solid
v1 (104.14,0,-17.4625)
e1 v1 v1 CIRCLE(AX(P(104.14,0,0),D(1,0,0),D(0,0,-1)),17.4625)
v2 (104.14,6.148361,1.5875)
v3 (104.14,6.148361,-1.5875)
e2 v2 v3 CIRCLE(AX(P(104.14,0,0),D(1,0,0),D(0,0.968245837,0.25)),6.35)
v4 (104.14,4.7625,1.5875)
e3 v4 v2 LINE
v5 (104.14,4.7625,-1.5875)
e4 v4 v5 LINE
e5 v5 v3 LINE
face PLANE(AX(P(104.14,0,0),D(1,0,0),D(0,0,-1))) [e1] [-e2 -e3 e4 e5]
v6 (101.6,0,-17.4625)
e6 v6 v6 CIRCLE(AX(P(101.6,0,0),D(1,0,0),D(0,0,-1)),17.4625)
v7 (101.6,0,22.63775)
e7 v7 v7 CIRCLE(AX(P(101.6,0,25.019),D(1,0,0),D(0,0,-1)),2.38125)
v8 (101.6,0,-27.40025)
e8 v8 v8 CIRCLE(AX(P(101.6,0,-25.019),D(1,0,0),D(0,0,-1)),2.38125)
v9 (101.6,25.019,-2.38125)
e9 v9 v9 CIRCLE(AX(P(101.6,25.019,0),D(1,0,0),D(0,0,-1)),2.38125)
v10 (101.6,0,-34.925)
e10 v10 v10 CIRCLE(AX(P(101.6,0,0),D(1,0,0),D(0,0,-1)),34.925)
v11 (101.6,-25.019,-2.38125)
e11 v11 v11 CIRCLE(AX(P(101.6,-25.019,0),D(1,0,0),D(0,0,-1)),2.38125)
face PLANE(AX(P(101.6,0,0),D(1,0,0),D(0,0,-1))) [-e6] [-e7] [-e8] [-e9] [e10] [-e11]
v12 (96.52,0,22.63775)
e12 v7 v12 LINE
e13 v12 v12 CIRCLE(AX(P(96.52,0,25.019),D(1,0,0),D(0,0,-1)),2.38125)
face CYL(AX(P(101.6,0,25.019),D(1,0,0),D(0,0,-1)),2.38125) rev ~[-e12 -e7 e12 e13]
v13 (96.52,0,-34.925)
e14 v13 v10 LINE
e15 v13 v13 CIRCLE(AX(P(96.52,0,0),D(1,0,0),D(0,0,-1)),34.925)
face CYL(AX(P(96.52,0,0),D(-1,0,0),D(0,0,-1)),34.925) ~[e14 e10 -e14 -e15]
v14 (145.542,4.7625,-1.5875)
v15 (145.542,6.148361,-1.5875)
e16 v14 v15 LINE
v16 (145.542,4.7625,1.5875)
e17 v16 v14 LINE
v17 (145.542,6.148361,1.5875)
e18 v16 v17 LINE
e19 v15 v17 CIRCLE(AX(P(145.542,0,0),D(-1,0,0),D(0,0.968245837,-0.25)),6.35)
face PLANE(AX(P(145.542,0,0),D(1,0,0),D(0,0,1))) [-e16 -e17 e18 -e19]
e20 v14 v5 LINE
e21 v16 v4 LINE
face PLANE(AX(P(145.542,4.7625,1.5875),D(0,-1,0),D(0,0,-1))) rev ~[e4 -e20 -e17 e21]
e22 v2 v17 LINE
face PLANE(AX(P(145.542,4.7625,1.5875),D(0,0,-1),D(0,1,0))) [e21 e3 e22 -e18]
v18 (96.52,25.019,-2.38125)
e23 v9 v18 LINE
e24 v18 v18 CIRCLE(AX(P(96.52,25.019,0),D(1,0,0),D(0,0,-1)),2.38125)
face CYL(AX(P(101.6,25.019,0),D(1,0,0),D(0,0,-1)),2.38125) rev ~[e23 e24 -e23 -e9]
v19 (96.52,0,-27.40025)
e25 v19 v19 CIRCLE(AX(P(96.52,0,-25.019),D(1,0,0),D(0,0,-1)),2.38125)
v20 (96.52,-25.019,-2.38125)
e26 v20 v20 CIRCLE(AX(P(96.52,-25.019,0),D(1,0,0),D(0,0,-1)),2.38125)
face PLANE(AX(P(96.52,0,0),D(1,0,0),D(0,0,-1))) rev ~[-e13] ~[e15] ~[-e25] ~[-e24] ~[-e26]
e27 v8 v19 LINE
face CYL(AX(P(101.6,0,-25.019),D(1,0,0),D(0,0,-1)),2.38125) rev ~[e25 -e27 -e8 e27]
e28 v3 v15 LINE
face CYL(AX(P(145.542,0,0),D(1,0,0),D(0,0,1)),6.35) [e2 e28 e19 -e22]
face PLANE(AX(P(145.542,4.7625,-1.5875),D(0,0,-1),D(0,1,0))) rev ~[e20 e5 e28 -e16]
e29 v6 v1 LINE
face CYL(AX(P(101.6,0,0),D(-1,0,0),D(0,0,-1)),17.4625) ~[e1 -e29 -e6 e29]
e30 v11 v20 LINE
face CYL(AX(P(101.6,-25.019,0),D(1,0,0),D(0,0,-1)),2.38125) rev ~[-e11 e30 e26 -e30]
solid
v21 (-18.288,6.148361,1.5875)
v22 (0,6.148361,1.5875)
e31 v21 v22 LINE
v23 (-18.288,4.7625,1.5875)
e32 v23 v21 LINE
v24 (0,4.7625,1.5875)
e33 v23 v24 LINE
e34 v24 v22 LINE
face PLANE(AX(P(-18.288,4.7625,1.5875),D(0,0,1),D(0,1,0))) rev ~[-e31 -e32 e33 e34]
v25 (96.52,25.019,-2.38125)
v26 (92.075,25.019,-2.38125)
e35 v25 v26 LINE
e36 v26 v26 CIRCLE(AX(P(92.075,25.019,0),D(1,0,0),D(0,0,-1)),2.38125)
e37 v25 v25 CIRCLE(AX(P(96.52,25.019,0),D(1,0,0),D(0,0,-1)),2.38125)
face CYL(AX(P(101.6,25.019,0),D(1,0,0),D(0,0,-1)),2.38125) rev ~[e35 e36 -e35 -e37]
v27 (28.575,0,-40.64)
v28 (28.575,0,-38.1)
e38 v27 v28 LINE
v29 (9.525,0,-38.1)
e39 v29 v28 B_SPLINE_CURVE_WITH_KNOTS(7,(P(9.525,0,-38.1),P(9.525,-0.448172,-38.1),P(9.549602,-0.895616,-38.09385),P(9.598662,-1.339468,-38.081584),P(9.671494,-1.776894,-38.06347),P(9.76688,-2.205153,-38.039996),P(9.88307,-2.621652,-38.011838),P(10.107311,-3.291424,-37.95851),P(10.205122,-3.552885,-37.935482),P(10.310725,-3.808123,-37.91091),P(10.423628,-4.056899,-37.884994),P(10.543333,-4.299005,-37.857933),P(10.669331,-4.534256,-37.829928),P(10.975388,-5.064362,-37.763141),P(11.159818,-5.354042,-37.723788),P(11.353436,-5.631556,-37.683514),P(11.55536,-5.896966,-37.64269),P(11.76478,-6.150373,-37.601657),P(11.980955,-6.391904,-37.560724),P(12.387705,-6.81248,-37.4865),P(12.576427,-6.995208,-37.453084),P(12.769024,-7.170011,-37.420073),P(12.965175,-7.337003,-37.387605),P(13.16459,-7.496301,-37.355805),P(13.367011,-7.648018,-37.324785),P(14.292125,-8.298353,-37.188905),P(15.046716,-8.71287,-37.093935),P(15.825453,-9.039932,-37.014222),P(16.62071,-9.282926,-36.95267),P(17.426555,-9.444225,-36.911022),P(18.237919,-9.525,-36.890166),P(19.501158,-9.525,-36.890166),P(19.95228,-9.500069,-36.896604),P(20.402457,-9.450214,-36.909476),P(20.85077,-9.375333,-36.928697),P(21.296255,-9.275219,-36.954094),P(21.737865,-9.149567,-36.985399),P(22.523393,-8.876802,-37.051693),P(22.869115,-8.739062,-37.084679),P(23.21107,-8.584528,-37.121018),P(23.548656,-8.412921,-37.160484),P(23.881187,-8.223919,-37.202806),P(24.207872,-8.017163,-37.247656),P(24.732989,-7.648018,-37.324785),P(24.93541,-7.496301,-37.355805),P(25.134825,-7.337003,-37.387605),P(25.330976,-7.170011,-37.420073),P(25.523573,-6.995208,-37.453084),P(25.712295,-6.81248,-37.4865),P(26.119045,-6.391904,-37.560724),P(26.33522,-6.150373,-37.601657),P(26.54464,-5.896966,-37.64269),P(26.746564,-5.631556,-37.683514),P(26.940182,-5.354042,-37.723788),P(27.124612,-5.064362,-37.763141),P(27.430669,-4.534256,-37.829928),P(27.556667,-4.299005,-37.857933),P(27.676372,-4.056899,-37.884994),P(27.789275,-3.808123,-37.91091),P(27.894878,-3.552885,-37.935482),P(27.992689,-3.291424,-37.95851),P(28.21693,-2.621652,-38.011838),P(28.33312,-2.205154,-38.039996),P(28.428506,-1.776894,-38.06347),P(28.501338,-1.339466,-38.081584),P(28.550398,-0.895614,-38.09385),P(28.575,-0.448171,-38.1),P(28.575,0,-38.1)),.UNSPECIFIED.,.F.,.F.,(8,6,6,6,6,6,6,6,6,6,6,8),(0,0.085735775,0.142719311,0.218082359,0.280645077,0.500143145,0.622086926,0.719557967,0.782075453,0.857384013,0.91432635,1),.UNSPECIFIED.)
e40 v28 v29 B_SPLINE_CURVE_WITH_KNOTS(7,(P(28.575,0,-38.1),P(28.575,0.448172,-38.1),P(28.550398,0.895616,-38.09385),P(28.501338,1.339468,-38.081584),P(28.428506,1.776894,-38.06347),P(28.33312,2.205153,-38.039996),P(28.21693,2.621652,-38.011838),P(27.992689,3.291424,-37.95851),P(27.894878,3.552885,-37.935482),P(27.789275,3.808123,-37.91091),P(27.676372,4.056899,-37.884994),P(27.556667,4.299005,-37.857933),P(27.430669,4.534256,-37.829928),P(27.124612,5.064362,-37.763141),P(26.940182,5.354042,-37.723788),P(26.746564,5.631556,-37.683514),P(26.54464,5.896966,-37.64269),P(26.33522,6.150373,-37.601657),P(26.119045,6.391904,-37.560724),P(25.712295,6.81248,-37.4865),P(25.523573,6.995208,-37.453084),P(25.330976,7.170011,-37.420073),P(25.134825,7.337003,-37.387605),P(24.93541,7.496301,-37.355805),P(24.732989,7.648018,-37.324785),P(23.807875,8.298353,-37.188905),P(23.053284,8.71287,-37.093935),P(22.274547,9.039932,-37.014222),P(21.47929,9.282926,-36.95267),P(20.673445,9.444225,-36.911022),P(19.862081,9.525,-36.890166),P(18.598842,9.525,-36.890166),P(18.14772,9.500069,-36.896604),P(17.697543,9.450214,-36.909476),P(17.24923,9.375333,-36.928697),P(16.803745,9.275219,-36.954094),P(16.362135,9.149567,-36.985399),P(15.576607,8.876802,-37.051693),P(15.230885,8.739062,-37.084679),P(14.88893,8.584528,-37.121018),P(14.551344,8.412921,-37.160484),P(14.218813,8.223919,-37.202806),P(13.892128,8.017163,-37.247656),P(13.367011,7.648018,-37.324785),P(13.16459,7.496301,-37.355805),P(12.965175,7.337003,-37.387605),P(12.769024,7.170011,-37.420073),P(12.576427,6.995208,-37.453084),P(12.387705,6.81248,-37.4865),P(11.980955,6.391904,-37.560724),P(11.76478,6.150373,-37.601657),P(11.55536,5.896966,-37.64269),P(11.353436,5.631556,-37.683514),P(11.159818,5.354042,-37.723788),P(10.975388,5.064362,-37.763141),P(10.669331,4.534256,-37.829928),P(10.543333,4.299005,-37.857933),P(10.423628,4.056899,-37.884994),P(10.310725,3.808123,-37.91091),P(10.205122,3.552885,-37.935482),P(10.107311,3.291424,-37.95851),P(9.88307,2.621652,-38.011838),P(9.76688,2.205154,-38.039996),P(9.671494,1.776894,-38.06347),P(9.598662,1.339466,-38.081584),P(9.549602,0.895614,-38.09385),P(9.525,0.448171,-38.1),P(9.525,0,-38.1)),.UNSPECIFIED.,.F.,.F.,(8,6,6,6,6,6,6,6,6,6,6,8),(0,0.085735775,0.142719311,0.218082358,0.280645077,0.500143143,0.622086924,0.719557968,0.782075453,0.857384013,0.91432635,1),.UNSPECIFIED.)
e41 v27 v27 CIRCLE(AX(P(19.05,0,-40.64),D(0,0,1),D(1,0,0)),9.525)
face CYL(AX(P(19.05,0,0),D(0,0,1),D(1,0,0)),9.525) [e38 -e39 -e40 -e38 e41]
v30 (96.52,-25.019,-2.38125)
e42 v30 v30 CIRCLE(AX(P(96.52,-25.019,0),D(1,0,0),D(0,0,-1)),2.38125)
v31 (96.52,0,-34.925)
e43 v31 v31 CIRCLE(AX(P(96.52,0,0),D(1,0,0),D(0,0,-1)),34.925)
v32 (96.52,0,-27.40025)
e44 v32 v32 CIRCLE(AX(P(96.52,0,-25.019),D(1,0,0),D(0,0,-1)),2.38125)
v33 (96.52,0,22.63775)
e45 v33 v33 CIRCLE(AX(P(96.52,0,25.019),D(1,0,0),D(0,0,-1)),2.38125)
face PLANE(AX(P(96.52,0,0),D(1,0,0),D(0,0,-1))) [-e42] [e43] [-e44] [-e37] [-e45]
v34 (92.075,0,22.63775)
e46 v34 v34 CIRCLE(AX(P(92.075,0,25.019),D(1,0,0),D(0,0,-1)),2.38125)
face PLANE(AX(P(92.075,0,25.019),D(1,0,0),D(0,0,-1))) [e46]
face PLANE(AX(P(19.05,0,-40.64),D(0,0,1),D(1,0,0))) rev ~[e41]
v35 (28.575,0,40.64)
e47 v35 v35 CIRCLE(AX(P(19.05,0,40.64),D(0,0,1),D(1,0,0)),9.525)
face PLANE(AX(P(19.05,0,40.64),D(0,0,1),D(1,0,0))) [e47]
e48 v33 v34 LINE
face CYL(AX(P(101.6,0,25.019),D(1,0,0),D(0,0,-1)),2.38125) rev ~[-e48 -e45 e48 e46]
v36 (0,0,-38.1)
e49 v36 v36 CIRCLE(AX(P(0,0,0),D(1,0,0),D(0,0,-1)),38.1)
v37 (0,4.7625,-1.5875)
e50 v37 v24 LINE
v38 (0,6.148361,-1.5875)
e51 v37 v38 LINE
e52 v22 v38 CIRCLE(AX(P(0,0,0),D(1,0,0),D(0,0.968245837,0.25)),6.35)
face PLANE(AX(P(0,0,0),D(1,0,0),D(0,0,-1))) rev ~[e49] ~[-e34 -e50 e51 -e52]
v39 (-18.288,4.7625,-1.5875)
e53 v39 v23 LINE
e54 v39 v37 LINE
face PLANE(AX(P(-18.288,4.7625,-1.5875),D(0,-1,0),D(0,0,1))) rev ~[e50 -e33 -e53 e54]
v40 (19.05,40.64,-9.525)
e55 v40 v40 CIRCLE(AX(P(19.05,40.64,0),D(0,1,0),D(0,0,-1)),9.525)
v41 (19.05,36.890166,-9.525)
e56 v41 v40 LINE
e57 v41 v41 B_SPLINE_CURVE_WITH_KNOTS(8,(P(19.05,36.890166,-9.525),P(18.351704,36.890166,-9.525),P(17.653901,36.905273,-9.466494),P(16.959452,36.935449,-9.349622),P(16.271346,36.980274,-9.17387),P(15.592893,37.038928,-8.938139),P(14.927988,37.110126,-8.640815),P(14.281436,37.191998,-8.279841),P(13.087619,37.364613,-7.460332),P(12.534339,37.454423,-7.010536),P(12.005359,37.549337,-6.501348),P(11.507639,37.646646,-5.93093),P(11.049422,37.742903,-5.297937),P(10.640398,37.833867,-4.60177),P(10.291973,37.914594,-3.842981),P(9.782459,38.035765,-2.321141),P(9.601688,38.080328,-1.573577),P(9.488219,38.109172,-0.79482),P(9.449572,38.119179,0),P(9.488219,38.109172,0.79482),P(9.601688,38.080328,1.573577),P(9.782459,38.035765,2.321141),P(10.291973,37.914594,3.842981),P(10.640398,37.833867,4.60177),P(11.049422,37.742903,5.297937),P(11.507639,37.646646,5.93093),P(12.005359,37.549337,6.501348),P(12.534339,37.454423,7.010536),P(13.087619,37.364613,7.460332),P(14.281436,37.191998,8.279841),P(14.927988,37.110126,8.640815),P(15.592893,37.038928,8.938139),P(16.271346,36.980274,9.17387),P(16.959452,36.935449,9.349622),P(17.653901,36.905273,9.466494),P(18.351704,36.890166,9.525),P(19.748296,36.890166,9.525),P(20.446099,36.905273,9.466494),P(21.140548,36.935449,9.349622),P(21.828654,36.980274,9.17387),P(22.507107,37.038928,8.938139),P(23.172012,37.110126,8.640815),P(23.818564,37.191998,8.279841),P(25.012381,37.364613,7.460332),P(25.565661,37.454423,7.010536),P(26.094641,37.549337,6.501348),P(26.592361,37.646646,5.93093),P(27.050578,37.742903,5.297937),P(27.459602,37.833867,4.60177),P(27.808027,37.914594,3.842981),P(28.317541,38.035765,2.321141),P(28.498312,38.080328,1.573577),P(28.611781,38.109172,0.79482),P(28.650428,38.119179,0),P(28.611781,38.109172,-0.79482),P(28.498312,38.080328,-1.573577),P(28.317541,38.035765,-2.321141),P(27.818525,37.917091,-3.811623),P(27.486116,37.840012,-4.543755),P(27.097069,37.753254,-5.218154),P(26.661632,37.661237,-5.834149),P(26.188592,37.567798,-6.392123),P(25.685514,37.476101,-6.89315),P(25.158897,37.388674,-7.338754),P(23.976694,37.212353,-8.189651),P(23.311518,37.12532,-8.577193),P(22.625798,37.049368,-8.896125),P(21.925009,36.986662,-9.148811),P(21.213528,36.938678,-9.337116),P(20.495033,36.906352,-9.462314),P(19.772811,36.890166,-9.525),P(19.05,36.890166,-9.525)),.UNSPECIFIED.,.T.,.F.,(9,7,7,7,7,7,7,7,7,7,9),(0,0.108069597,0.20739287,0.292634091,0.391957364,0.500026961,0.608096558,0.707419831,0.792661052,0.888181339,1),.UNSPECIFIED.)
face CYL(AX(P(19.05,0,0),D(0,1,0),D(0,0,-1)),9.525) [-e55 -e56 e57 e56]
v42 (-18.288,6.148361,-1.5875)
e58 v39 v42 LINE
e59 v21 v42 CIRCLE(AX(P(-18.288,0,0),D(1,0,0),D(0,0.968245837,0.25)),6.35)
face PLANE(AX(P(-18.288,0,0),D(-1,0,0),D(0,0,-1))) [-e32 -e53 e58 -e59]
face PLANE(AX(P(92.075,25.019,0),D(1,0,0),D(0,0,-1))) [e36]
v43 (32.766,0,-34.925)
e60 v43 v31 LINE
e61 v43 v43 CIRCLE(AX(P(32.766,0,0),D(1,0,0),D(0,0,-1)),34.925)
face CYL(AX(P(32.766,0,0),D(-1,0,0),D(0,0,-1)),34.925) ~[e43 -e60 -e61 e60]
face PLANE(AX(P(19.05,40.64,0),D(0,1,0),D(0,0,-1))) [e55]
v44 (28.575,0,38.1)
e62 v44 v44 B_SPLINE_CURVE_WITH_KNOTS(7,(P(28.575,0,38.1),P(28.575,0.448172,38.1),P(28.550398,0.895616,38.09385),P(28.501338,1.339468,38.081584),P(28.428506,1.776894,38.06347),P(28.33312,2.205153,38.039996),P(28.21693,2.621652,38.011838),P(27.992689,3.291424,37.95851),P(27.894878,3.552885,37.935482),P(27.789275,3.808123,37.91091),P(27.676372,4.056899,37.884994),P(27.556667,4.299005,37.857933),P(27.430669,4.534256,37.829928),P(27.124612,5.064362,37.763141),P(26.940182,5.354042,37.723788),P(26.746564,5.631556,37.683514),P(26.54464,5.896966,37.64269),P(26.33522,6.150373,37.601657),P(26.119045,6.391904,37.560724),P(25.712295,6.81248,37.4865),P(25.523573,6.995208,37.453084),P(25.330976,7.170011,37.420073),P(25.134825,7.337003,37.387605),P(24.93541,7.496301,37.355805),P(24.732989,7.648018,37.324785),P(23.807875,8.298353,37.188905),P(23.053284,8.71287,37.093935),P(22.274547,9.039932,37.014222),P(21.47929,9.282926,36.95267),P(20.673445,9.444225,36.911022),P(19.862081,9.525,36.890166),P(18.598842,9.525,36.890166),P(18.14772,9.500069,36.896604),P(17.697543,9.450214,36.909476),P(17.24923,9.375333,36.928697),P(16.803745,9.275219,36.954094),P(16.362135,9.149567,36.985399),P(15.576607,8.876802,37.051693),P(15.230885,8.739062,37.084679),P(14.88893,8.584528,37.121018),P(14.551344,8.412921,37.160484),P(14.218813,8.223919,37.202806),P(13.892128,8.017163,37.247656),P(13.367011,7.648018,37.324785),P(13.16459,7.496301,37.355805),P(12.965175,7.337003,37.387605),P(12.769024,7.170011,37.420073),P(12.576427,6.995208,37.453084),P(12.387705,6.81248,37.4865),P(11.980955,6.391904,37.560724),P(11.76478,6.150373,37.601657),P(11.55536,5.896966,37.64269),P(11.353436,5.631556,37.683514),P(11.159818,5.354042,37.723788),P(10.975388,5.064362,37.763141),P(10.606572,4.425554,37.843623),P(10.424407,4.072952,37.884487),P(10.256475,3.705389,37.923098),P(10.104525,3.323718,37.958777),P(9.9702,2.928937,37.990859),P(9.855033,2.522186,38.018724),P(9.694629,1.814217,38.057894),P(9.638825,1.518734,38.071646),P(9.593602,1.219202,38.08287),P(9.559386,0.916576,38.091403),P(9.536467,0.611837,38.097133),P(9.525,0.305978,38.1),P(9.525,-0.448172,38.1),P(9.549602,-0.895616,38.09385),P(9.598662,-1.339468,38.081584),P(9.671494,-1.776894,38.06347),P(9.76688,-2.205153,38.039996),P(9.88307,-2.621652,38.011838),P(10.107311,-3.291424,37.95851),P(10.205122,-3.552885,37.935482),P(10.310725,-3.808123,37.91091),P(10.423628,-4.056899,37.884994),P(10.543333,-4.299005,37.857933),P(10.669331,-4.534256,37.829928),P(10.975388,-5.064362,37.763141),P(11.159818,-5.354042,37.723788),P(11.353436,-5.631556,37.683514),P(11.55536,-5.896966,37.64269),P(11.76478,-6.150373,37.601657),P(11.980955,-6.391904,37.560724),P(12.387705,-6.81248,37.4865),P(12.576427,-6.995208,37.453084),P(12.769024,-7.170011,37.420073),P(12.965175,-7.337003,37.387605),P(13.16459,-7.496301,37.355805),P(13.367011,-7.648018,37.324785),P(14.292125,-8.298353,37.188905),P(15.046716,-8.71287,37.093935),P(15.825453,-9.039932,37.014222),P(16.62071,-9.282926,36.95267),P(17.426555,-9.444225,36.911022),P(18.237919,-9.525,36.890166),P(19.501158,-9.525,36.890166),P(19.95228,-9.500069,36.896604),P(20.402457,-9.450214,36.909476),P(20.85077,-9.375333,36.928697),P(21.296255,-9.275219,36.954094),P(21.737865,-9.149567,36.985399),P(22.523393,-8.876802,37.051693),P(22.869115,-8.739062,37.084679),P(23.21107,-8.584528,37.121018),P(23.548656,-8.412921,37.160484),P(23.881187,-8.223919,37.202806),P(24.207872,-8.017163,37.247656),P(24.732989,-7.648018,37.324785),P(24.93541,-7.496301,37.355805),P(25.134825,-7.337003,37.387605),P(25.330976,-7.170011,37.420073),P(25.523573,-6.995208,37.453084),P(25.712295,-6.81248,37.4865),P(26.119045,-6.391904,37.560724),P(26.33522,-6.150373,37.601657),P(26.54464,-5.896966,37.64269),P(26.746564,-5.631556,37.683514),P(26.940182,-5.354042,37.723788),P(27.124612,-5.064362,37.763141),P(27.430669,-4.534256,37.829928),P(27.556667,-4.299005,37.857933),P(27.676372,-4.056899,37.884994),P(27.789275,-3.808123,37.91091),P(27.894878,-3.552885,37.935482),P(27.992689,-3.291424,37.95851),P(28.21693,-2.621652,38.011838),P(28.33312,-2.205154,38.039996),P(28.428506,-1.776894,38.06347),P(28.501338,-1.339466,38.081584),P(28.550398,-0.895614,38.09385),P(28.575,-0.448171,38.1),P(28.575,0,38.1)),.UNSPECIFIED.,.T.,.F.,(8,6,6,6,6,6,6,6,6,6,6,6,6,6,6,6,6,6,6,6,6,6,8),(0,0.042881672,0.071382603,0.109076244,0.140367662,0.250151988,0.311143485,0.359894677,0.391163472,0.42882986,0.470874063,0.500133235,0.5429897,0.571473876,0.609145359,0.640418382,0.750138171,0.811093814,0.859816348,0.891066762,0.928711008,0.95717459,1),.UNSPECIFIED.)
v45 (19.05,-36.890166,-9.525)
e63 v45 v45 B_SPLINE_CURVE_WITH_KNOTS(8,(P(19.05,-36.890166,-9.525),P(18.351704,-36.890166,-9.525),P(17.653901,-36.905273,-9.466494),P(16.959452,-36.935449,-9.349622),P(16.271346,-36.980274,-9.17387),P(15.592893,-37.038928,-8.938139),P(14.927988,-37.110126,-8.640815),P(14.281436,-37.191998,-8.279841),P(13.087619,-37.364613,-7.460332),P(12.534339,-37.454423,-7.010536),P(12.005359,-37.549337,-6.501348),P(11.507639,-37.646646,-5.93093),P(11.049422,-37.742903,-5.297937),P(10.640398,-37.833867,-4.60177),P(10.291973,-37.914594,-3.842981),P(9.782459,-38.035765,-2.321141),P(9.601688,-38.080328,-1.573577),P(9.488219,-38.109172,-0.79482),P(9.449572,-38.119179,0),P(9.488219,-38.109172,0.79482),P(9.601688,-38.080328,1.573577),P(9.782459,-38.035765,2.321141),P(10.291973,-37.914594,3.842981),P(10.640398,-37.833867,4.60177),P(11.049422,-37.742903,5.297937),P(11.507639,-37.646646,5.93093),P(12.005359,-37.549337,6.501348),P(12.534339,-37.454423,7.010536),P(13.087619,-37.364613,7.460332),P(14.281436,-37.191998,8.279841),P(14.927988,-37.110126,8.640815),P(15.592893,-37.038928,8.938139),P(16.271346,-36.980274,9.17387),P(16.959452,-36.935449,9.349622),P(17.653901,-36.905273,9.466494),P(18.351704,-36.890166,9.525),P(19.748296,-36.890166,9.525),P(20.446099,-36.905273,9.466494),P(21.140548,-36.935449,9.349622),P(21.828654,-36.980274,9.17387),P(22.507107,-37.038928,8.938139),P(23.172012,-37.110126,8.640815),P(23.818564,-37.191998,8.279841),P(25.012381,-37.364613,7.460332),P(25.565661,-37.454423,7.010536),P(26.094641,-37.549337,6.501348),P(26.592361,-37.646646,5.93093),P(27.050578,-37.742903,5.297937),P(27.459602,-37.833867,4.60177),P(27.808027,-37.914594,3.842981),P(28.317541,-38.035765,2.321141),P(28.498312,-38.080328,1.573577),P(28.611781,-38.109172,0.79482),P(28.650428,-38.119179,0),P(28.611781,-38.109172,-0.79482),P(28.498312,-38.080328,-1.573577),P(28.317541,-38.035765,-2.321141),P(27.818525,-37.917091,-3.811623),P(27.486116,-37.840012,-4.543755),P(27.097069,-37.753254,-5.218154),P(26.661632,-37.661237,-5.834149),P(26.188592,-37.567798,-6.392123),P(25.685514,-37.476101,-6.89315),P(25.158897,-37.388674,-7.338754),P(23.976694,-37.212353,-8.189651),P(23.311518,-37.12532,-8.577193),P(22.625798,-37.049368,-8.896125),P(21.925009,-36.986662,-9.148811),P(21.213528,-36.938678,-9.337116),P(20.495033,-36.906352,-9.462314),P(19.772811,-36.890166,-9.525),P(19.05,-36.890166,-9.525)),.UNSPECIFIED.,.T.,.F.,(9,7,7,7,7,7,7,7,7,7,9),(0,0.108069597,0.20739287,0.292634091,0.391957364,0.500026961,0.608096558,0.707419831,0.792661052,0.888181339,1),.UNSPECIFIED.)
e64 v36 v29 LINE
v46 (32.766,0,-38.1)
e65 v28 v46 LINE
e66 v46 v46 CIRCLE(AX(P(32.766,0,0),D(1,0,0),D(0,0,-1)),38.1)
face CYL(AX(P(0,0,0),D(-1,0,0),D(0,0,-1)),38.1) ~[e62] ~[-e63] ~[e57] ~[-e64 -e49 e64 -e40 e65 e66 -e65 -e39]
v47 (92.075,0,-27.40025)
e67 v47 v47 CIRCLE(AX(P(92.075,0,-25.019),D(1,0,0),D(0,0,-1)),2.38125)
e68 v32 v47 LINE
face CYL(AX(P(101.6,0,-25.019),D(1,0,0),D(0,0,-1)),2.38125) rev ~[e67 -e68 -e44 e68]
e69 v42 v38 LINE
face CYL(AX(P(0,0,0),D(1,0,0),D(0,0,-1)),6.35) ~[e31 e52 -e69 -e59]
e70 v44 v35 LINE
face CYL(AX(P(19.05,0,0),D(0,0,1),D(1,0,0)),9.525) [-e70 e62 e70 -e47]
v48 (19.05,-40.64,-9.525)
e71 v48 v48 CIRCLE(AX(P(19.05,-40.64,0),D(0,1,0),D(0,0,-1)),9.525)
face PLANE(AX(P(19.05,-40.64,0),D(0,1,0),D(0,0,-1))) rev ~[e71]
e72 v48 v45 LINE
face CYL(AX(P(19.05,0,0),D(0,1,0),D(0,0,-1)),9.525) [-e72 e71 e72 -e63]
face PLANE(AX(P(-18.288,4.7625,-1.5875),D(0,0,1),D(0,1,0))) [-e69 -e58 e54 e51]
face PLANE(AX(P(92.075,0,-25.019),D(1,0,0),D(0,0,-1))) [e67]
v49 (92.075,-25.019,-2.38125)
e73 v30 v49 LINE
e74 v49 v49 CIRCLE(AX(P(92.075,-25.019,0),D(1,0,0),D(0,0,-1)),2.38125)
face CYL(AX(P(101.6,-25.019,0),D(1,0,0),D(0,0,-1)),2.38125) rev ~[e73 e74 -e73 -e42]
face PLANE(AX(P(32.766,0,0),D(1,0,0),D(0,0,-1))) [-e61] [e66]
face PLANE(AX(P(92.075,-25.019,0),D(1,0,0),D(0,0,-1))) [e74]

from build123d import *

# Parameters (mm, degrees)
SKETCH1_R          = 38.1
EXTRUDE1_DEPTH     = 32.766
SKETCH5_R          = 6.35
EXTRUDE5_DEPTH     = 18.288
SKETCH2_R          = 34.925
EXTRUDE6_DEPTH     = 63.754
SKETCH6_R          = 34.925
EXTRUDE7_DEPTH     = 5.08
SKETCH7_R          = 17.4625
EXTRUDE8_DEPTH     = 2.54
EXTRUDE9_START     = 43.942
SKETCH8_R          = 6.35
EXTRUDE9_DEPTH     = 43.942
SKETCH9_W          = 3.175
SKETCH9_H          = 3.175
CUT_EXTRUDE1_DEPTH = 41.402
SKETCH10_W         = 3.175
SKETCH10_H         = 3.175
CUT_EXTRUDE2_DEPTH = 18.288
SKETCH11_R         = 9.525
EXTRUDE10_DEPTH    = 40.64
SKETCH12_R         = 9.525
EXTRUDE11_DEPTH    = 40.64
SKETCH13_R         = 2.38125
CUT_EXTRUDE3_DEPTH = 9.525


with BuildPart() as part:
    # Sketch1 → Extrude1 (new body)
    with BuildSketch(Plane(origin=(0, 0, 0), x_dir=(0, 0, -1), z_dir=(1, 0, 0))):
        Circle(SKETCH1_R)
    extrude(amount=EXTRUDE1_DEPTH)

    # Sketch5 → Extrude5 (add)
    with BuildSketch(Plane.ZY):
        with Locations(Location((0, 0, 0), (0, 0, 180))):
            Circle(SKETCH5_R)
    extrude(amount=EXTRUDE5_DEPTH)

    # Sketch2 → Extrude6 (add)
    with BuildSketch(Plane(origin=(32.766, 0, 0), x_dir=(0, 0, -1), z_dir=(1, 0, 0))):
        Circle(SKETCH2_R)
    extrude(amount=EXTRUDE6_DEPTH)

    # Sketch10 → Cut-Extrude2 (cut)
    with BuildSketch(Plane.ZY.offset(18.288)):
        with Locations((0, 6.35)):
            Rectangle(SKETCH10_W, SKETCH10_H)
    extrude(amount=-CUT_EXTRUDE2_DEPTH, mode=Mode.SUBTRACT)

    # Sketch11 → Extrude10 (add, symmetric)
    with BuildSketch(Plane(origin=(0, 0, 0), x_dir=(1, 0, 0), z_dir=(0, 1, 0))):
        with Locations(Location((19.05, 0, 0), (0, 0, 90))):
            Circle(SKETCH11_R)
    extrude(amount=EXTRUDE10_DEPTH, both=True)

    # Sketch12 → Extrude11 (add, symmetric)
    with BuildSketch(Plane.XY):
        with Locations((19.05, 0)):
            Circle(SKETCH12_R)
    extrude(amount=EXTRUDE11_DEPTH, both=True)


with BuildPart() as body_2:
    # Sketch6 → Extrude7 (new body)
    with BuildSketch(Plane(origin=(96.52, 0, 0), x_dir=(0, 0, -1), z_dir=(1, 0, 0))):
        Circle(SKETCH6_R)
    extrude(amount=EXTRUDE7_DEPTH)

    # Sketch7 → Extrude8 (add)
    with BuildSketch(Plane(origin=(101.6, 0, 0), x_dir=(0, 0, -1), z_dir=(1, 0, 0))):
        Circle(SKETCH7_R)
    extrude(amount=EXTRUDE8_DEPTH)

    # Sketch8 → Extrude9 (add)
    with BuildSketch(Plane(origin=(101.6, 0, 0), x_dir=(0, 0, -1), z_dir=(1, 0, 0)).offset(EXTRUDE9_START)):
        with Locations(Location((0, 0, 0), (0, 0, 180))):
            Circle(SKETCH8_R)
    extrude(amount=-EXTRUDE9_DEPTH)

    # Sketch9 → Cut-Extrude1 (cut)
    with BuildSketch(Plane(origin=(145.542, 0, 0), x_dir=(0, 0, -1), z_dir=(1, 0, 0))):
        with Locations((0, 6.35)):
            Rectangle(SKETCH9_W, SKETCH9_H)
    extrude(amount=-CUT_EXTRUDE1_DEPTH, mode=Mode.SUBTRACT)


with BuildPart() as cut_extrude3_tool:
    # Sketch13 → Cut-Extrude3 (new body)
    with BuildSketch(Plane(origin=(101.6, 0, 0), x_dir=(0, 0, -1), z_dir=(1, 0, 0))):
        with Locations((25.019, 0)):
            Circle(SKETCH13_R)
        with Locations((0, 25.019)):
            Circle(SKETCH13_R)
        with Locations((-25.019, 0)):
            Circle(SKETCH13_R)
        with Locations((0, -25.019)):
            Circle(SKETCH13_R)
    extrude(amount=-CUT_EXTRUDE3_DEPTH)


with BuildPart() as part_1:
    add(part.part)

    # Cut-Extrude3: cut by cut_extrude3_tool
    add(cut_extrude3_tool.part, mode=Mode.SUBTRACT)


with BuildPart() as body_2_1:
    add(body_2.part)

    # Cut-Extrude3: cut by cut_extrude3_tool
    add(cut_extrude3_tool.part, mode=Mode.SUBTRACT)


solid = Compound([part_1.part, body_2_1.part])
